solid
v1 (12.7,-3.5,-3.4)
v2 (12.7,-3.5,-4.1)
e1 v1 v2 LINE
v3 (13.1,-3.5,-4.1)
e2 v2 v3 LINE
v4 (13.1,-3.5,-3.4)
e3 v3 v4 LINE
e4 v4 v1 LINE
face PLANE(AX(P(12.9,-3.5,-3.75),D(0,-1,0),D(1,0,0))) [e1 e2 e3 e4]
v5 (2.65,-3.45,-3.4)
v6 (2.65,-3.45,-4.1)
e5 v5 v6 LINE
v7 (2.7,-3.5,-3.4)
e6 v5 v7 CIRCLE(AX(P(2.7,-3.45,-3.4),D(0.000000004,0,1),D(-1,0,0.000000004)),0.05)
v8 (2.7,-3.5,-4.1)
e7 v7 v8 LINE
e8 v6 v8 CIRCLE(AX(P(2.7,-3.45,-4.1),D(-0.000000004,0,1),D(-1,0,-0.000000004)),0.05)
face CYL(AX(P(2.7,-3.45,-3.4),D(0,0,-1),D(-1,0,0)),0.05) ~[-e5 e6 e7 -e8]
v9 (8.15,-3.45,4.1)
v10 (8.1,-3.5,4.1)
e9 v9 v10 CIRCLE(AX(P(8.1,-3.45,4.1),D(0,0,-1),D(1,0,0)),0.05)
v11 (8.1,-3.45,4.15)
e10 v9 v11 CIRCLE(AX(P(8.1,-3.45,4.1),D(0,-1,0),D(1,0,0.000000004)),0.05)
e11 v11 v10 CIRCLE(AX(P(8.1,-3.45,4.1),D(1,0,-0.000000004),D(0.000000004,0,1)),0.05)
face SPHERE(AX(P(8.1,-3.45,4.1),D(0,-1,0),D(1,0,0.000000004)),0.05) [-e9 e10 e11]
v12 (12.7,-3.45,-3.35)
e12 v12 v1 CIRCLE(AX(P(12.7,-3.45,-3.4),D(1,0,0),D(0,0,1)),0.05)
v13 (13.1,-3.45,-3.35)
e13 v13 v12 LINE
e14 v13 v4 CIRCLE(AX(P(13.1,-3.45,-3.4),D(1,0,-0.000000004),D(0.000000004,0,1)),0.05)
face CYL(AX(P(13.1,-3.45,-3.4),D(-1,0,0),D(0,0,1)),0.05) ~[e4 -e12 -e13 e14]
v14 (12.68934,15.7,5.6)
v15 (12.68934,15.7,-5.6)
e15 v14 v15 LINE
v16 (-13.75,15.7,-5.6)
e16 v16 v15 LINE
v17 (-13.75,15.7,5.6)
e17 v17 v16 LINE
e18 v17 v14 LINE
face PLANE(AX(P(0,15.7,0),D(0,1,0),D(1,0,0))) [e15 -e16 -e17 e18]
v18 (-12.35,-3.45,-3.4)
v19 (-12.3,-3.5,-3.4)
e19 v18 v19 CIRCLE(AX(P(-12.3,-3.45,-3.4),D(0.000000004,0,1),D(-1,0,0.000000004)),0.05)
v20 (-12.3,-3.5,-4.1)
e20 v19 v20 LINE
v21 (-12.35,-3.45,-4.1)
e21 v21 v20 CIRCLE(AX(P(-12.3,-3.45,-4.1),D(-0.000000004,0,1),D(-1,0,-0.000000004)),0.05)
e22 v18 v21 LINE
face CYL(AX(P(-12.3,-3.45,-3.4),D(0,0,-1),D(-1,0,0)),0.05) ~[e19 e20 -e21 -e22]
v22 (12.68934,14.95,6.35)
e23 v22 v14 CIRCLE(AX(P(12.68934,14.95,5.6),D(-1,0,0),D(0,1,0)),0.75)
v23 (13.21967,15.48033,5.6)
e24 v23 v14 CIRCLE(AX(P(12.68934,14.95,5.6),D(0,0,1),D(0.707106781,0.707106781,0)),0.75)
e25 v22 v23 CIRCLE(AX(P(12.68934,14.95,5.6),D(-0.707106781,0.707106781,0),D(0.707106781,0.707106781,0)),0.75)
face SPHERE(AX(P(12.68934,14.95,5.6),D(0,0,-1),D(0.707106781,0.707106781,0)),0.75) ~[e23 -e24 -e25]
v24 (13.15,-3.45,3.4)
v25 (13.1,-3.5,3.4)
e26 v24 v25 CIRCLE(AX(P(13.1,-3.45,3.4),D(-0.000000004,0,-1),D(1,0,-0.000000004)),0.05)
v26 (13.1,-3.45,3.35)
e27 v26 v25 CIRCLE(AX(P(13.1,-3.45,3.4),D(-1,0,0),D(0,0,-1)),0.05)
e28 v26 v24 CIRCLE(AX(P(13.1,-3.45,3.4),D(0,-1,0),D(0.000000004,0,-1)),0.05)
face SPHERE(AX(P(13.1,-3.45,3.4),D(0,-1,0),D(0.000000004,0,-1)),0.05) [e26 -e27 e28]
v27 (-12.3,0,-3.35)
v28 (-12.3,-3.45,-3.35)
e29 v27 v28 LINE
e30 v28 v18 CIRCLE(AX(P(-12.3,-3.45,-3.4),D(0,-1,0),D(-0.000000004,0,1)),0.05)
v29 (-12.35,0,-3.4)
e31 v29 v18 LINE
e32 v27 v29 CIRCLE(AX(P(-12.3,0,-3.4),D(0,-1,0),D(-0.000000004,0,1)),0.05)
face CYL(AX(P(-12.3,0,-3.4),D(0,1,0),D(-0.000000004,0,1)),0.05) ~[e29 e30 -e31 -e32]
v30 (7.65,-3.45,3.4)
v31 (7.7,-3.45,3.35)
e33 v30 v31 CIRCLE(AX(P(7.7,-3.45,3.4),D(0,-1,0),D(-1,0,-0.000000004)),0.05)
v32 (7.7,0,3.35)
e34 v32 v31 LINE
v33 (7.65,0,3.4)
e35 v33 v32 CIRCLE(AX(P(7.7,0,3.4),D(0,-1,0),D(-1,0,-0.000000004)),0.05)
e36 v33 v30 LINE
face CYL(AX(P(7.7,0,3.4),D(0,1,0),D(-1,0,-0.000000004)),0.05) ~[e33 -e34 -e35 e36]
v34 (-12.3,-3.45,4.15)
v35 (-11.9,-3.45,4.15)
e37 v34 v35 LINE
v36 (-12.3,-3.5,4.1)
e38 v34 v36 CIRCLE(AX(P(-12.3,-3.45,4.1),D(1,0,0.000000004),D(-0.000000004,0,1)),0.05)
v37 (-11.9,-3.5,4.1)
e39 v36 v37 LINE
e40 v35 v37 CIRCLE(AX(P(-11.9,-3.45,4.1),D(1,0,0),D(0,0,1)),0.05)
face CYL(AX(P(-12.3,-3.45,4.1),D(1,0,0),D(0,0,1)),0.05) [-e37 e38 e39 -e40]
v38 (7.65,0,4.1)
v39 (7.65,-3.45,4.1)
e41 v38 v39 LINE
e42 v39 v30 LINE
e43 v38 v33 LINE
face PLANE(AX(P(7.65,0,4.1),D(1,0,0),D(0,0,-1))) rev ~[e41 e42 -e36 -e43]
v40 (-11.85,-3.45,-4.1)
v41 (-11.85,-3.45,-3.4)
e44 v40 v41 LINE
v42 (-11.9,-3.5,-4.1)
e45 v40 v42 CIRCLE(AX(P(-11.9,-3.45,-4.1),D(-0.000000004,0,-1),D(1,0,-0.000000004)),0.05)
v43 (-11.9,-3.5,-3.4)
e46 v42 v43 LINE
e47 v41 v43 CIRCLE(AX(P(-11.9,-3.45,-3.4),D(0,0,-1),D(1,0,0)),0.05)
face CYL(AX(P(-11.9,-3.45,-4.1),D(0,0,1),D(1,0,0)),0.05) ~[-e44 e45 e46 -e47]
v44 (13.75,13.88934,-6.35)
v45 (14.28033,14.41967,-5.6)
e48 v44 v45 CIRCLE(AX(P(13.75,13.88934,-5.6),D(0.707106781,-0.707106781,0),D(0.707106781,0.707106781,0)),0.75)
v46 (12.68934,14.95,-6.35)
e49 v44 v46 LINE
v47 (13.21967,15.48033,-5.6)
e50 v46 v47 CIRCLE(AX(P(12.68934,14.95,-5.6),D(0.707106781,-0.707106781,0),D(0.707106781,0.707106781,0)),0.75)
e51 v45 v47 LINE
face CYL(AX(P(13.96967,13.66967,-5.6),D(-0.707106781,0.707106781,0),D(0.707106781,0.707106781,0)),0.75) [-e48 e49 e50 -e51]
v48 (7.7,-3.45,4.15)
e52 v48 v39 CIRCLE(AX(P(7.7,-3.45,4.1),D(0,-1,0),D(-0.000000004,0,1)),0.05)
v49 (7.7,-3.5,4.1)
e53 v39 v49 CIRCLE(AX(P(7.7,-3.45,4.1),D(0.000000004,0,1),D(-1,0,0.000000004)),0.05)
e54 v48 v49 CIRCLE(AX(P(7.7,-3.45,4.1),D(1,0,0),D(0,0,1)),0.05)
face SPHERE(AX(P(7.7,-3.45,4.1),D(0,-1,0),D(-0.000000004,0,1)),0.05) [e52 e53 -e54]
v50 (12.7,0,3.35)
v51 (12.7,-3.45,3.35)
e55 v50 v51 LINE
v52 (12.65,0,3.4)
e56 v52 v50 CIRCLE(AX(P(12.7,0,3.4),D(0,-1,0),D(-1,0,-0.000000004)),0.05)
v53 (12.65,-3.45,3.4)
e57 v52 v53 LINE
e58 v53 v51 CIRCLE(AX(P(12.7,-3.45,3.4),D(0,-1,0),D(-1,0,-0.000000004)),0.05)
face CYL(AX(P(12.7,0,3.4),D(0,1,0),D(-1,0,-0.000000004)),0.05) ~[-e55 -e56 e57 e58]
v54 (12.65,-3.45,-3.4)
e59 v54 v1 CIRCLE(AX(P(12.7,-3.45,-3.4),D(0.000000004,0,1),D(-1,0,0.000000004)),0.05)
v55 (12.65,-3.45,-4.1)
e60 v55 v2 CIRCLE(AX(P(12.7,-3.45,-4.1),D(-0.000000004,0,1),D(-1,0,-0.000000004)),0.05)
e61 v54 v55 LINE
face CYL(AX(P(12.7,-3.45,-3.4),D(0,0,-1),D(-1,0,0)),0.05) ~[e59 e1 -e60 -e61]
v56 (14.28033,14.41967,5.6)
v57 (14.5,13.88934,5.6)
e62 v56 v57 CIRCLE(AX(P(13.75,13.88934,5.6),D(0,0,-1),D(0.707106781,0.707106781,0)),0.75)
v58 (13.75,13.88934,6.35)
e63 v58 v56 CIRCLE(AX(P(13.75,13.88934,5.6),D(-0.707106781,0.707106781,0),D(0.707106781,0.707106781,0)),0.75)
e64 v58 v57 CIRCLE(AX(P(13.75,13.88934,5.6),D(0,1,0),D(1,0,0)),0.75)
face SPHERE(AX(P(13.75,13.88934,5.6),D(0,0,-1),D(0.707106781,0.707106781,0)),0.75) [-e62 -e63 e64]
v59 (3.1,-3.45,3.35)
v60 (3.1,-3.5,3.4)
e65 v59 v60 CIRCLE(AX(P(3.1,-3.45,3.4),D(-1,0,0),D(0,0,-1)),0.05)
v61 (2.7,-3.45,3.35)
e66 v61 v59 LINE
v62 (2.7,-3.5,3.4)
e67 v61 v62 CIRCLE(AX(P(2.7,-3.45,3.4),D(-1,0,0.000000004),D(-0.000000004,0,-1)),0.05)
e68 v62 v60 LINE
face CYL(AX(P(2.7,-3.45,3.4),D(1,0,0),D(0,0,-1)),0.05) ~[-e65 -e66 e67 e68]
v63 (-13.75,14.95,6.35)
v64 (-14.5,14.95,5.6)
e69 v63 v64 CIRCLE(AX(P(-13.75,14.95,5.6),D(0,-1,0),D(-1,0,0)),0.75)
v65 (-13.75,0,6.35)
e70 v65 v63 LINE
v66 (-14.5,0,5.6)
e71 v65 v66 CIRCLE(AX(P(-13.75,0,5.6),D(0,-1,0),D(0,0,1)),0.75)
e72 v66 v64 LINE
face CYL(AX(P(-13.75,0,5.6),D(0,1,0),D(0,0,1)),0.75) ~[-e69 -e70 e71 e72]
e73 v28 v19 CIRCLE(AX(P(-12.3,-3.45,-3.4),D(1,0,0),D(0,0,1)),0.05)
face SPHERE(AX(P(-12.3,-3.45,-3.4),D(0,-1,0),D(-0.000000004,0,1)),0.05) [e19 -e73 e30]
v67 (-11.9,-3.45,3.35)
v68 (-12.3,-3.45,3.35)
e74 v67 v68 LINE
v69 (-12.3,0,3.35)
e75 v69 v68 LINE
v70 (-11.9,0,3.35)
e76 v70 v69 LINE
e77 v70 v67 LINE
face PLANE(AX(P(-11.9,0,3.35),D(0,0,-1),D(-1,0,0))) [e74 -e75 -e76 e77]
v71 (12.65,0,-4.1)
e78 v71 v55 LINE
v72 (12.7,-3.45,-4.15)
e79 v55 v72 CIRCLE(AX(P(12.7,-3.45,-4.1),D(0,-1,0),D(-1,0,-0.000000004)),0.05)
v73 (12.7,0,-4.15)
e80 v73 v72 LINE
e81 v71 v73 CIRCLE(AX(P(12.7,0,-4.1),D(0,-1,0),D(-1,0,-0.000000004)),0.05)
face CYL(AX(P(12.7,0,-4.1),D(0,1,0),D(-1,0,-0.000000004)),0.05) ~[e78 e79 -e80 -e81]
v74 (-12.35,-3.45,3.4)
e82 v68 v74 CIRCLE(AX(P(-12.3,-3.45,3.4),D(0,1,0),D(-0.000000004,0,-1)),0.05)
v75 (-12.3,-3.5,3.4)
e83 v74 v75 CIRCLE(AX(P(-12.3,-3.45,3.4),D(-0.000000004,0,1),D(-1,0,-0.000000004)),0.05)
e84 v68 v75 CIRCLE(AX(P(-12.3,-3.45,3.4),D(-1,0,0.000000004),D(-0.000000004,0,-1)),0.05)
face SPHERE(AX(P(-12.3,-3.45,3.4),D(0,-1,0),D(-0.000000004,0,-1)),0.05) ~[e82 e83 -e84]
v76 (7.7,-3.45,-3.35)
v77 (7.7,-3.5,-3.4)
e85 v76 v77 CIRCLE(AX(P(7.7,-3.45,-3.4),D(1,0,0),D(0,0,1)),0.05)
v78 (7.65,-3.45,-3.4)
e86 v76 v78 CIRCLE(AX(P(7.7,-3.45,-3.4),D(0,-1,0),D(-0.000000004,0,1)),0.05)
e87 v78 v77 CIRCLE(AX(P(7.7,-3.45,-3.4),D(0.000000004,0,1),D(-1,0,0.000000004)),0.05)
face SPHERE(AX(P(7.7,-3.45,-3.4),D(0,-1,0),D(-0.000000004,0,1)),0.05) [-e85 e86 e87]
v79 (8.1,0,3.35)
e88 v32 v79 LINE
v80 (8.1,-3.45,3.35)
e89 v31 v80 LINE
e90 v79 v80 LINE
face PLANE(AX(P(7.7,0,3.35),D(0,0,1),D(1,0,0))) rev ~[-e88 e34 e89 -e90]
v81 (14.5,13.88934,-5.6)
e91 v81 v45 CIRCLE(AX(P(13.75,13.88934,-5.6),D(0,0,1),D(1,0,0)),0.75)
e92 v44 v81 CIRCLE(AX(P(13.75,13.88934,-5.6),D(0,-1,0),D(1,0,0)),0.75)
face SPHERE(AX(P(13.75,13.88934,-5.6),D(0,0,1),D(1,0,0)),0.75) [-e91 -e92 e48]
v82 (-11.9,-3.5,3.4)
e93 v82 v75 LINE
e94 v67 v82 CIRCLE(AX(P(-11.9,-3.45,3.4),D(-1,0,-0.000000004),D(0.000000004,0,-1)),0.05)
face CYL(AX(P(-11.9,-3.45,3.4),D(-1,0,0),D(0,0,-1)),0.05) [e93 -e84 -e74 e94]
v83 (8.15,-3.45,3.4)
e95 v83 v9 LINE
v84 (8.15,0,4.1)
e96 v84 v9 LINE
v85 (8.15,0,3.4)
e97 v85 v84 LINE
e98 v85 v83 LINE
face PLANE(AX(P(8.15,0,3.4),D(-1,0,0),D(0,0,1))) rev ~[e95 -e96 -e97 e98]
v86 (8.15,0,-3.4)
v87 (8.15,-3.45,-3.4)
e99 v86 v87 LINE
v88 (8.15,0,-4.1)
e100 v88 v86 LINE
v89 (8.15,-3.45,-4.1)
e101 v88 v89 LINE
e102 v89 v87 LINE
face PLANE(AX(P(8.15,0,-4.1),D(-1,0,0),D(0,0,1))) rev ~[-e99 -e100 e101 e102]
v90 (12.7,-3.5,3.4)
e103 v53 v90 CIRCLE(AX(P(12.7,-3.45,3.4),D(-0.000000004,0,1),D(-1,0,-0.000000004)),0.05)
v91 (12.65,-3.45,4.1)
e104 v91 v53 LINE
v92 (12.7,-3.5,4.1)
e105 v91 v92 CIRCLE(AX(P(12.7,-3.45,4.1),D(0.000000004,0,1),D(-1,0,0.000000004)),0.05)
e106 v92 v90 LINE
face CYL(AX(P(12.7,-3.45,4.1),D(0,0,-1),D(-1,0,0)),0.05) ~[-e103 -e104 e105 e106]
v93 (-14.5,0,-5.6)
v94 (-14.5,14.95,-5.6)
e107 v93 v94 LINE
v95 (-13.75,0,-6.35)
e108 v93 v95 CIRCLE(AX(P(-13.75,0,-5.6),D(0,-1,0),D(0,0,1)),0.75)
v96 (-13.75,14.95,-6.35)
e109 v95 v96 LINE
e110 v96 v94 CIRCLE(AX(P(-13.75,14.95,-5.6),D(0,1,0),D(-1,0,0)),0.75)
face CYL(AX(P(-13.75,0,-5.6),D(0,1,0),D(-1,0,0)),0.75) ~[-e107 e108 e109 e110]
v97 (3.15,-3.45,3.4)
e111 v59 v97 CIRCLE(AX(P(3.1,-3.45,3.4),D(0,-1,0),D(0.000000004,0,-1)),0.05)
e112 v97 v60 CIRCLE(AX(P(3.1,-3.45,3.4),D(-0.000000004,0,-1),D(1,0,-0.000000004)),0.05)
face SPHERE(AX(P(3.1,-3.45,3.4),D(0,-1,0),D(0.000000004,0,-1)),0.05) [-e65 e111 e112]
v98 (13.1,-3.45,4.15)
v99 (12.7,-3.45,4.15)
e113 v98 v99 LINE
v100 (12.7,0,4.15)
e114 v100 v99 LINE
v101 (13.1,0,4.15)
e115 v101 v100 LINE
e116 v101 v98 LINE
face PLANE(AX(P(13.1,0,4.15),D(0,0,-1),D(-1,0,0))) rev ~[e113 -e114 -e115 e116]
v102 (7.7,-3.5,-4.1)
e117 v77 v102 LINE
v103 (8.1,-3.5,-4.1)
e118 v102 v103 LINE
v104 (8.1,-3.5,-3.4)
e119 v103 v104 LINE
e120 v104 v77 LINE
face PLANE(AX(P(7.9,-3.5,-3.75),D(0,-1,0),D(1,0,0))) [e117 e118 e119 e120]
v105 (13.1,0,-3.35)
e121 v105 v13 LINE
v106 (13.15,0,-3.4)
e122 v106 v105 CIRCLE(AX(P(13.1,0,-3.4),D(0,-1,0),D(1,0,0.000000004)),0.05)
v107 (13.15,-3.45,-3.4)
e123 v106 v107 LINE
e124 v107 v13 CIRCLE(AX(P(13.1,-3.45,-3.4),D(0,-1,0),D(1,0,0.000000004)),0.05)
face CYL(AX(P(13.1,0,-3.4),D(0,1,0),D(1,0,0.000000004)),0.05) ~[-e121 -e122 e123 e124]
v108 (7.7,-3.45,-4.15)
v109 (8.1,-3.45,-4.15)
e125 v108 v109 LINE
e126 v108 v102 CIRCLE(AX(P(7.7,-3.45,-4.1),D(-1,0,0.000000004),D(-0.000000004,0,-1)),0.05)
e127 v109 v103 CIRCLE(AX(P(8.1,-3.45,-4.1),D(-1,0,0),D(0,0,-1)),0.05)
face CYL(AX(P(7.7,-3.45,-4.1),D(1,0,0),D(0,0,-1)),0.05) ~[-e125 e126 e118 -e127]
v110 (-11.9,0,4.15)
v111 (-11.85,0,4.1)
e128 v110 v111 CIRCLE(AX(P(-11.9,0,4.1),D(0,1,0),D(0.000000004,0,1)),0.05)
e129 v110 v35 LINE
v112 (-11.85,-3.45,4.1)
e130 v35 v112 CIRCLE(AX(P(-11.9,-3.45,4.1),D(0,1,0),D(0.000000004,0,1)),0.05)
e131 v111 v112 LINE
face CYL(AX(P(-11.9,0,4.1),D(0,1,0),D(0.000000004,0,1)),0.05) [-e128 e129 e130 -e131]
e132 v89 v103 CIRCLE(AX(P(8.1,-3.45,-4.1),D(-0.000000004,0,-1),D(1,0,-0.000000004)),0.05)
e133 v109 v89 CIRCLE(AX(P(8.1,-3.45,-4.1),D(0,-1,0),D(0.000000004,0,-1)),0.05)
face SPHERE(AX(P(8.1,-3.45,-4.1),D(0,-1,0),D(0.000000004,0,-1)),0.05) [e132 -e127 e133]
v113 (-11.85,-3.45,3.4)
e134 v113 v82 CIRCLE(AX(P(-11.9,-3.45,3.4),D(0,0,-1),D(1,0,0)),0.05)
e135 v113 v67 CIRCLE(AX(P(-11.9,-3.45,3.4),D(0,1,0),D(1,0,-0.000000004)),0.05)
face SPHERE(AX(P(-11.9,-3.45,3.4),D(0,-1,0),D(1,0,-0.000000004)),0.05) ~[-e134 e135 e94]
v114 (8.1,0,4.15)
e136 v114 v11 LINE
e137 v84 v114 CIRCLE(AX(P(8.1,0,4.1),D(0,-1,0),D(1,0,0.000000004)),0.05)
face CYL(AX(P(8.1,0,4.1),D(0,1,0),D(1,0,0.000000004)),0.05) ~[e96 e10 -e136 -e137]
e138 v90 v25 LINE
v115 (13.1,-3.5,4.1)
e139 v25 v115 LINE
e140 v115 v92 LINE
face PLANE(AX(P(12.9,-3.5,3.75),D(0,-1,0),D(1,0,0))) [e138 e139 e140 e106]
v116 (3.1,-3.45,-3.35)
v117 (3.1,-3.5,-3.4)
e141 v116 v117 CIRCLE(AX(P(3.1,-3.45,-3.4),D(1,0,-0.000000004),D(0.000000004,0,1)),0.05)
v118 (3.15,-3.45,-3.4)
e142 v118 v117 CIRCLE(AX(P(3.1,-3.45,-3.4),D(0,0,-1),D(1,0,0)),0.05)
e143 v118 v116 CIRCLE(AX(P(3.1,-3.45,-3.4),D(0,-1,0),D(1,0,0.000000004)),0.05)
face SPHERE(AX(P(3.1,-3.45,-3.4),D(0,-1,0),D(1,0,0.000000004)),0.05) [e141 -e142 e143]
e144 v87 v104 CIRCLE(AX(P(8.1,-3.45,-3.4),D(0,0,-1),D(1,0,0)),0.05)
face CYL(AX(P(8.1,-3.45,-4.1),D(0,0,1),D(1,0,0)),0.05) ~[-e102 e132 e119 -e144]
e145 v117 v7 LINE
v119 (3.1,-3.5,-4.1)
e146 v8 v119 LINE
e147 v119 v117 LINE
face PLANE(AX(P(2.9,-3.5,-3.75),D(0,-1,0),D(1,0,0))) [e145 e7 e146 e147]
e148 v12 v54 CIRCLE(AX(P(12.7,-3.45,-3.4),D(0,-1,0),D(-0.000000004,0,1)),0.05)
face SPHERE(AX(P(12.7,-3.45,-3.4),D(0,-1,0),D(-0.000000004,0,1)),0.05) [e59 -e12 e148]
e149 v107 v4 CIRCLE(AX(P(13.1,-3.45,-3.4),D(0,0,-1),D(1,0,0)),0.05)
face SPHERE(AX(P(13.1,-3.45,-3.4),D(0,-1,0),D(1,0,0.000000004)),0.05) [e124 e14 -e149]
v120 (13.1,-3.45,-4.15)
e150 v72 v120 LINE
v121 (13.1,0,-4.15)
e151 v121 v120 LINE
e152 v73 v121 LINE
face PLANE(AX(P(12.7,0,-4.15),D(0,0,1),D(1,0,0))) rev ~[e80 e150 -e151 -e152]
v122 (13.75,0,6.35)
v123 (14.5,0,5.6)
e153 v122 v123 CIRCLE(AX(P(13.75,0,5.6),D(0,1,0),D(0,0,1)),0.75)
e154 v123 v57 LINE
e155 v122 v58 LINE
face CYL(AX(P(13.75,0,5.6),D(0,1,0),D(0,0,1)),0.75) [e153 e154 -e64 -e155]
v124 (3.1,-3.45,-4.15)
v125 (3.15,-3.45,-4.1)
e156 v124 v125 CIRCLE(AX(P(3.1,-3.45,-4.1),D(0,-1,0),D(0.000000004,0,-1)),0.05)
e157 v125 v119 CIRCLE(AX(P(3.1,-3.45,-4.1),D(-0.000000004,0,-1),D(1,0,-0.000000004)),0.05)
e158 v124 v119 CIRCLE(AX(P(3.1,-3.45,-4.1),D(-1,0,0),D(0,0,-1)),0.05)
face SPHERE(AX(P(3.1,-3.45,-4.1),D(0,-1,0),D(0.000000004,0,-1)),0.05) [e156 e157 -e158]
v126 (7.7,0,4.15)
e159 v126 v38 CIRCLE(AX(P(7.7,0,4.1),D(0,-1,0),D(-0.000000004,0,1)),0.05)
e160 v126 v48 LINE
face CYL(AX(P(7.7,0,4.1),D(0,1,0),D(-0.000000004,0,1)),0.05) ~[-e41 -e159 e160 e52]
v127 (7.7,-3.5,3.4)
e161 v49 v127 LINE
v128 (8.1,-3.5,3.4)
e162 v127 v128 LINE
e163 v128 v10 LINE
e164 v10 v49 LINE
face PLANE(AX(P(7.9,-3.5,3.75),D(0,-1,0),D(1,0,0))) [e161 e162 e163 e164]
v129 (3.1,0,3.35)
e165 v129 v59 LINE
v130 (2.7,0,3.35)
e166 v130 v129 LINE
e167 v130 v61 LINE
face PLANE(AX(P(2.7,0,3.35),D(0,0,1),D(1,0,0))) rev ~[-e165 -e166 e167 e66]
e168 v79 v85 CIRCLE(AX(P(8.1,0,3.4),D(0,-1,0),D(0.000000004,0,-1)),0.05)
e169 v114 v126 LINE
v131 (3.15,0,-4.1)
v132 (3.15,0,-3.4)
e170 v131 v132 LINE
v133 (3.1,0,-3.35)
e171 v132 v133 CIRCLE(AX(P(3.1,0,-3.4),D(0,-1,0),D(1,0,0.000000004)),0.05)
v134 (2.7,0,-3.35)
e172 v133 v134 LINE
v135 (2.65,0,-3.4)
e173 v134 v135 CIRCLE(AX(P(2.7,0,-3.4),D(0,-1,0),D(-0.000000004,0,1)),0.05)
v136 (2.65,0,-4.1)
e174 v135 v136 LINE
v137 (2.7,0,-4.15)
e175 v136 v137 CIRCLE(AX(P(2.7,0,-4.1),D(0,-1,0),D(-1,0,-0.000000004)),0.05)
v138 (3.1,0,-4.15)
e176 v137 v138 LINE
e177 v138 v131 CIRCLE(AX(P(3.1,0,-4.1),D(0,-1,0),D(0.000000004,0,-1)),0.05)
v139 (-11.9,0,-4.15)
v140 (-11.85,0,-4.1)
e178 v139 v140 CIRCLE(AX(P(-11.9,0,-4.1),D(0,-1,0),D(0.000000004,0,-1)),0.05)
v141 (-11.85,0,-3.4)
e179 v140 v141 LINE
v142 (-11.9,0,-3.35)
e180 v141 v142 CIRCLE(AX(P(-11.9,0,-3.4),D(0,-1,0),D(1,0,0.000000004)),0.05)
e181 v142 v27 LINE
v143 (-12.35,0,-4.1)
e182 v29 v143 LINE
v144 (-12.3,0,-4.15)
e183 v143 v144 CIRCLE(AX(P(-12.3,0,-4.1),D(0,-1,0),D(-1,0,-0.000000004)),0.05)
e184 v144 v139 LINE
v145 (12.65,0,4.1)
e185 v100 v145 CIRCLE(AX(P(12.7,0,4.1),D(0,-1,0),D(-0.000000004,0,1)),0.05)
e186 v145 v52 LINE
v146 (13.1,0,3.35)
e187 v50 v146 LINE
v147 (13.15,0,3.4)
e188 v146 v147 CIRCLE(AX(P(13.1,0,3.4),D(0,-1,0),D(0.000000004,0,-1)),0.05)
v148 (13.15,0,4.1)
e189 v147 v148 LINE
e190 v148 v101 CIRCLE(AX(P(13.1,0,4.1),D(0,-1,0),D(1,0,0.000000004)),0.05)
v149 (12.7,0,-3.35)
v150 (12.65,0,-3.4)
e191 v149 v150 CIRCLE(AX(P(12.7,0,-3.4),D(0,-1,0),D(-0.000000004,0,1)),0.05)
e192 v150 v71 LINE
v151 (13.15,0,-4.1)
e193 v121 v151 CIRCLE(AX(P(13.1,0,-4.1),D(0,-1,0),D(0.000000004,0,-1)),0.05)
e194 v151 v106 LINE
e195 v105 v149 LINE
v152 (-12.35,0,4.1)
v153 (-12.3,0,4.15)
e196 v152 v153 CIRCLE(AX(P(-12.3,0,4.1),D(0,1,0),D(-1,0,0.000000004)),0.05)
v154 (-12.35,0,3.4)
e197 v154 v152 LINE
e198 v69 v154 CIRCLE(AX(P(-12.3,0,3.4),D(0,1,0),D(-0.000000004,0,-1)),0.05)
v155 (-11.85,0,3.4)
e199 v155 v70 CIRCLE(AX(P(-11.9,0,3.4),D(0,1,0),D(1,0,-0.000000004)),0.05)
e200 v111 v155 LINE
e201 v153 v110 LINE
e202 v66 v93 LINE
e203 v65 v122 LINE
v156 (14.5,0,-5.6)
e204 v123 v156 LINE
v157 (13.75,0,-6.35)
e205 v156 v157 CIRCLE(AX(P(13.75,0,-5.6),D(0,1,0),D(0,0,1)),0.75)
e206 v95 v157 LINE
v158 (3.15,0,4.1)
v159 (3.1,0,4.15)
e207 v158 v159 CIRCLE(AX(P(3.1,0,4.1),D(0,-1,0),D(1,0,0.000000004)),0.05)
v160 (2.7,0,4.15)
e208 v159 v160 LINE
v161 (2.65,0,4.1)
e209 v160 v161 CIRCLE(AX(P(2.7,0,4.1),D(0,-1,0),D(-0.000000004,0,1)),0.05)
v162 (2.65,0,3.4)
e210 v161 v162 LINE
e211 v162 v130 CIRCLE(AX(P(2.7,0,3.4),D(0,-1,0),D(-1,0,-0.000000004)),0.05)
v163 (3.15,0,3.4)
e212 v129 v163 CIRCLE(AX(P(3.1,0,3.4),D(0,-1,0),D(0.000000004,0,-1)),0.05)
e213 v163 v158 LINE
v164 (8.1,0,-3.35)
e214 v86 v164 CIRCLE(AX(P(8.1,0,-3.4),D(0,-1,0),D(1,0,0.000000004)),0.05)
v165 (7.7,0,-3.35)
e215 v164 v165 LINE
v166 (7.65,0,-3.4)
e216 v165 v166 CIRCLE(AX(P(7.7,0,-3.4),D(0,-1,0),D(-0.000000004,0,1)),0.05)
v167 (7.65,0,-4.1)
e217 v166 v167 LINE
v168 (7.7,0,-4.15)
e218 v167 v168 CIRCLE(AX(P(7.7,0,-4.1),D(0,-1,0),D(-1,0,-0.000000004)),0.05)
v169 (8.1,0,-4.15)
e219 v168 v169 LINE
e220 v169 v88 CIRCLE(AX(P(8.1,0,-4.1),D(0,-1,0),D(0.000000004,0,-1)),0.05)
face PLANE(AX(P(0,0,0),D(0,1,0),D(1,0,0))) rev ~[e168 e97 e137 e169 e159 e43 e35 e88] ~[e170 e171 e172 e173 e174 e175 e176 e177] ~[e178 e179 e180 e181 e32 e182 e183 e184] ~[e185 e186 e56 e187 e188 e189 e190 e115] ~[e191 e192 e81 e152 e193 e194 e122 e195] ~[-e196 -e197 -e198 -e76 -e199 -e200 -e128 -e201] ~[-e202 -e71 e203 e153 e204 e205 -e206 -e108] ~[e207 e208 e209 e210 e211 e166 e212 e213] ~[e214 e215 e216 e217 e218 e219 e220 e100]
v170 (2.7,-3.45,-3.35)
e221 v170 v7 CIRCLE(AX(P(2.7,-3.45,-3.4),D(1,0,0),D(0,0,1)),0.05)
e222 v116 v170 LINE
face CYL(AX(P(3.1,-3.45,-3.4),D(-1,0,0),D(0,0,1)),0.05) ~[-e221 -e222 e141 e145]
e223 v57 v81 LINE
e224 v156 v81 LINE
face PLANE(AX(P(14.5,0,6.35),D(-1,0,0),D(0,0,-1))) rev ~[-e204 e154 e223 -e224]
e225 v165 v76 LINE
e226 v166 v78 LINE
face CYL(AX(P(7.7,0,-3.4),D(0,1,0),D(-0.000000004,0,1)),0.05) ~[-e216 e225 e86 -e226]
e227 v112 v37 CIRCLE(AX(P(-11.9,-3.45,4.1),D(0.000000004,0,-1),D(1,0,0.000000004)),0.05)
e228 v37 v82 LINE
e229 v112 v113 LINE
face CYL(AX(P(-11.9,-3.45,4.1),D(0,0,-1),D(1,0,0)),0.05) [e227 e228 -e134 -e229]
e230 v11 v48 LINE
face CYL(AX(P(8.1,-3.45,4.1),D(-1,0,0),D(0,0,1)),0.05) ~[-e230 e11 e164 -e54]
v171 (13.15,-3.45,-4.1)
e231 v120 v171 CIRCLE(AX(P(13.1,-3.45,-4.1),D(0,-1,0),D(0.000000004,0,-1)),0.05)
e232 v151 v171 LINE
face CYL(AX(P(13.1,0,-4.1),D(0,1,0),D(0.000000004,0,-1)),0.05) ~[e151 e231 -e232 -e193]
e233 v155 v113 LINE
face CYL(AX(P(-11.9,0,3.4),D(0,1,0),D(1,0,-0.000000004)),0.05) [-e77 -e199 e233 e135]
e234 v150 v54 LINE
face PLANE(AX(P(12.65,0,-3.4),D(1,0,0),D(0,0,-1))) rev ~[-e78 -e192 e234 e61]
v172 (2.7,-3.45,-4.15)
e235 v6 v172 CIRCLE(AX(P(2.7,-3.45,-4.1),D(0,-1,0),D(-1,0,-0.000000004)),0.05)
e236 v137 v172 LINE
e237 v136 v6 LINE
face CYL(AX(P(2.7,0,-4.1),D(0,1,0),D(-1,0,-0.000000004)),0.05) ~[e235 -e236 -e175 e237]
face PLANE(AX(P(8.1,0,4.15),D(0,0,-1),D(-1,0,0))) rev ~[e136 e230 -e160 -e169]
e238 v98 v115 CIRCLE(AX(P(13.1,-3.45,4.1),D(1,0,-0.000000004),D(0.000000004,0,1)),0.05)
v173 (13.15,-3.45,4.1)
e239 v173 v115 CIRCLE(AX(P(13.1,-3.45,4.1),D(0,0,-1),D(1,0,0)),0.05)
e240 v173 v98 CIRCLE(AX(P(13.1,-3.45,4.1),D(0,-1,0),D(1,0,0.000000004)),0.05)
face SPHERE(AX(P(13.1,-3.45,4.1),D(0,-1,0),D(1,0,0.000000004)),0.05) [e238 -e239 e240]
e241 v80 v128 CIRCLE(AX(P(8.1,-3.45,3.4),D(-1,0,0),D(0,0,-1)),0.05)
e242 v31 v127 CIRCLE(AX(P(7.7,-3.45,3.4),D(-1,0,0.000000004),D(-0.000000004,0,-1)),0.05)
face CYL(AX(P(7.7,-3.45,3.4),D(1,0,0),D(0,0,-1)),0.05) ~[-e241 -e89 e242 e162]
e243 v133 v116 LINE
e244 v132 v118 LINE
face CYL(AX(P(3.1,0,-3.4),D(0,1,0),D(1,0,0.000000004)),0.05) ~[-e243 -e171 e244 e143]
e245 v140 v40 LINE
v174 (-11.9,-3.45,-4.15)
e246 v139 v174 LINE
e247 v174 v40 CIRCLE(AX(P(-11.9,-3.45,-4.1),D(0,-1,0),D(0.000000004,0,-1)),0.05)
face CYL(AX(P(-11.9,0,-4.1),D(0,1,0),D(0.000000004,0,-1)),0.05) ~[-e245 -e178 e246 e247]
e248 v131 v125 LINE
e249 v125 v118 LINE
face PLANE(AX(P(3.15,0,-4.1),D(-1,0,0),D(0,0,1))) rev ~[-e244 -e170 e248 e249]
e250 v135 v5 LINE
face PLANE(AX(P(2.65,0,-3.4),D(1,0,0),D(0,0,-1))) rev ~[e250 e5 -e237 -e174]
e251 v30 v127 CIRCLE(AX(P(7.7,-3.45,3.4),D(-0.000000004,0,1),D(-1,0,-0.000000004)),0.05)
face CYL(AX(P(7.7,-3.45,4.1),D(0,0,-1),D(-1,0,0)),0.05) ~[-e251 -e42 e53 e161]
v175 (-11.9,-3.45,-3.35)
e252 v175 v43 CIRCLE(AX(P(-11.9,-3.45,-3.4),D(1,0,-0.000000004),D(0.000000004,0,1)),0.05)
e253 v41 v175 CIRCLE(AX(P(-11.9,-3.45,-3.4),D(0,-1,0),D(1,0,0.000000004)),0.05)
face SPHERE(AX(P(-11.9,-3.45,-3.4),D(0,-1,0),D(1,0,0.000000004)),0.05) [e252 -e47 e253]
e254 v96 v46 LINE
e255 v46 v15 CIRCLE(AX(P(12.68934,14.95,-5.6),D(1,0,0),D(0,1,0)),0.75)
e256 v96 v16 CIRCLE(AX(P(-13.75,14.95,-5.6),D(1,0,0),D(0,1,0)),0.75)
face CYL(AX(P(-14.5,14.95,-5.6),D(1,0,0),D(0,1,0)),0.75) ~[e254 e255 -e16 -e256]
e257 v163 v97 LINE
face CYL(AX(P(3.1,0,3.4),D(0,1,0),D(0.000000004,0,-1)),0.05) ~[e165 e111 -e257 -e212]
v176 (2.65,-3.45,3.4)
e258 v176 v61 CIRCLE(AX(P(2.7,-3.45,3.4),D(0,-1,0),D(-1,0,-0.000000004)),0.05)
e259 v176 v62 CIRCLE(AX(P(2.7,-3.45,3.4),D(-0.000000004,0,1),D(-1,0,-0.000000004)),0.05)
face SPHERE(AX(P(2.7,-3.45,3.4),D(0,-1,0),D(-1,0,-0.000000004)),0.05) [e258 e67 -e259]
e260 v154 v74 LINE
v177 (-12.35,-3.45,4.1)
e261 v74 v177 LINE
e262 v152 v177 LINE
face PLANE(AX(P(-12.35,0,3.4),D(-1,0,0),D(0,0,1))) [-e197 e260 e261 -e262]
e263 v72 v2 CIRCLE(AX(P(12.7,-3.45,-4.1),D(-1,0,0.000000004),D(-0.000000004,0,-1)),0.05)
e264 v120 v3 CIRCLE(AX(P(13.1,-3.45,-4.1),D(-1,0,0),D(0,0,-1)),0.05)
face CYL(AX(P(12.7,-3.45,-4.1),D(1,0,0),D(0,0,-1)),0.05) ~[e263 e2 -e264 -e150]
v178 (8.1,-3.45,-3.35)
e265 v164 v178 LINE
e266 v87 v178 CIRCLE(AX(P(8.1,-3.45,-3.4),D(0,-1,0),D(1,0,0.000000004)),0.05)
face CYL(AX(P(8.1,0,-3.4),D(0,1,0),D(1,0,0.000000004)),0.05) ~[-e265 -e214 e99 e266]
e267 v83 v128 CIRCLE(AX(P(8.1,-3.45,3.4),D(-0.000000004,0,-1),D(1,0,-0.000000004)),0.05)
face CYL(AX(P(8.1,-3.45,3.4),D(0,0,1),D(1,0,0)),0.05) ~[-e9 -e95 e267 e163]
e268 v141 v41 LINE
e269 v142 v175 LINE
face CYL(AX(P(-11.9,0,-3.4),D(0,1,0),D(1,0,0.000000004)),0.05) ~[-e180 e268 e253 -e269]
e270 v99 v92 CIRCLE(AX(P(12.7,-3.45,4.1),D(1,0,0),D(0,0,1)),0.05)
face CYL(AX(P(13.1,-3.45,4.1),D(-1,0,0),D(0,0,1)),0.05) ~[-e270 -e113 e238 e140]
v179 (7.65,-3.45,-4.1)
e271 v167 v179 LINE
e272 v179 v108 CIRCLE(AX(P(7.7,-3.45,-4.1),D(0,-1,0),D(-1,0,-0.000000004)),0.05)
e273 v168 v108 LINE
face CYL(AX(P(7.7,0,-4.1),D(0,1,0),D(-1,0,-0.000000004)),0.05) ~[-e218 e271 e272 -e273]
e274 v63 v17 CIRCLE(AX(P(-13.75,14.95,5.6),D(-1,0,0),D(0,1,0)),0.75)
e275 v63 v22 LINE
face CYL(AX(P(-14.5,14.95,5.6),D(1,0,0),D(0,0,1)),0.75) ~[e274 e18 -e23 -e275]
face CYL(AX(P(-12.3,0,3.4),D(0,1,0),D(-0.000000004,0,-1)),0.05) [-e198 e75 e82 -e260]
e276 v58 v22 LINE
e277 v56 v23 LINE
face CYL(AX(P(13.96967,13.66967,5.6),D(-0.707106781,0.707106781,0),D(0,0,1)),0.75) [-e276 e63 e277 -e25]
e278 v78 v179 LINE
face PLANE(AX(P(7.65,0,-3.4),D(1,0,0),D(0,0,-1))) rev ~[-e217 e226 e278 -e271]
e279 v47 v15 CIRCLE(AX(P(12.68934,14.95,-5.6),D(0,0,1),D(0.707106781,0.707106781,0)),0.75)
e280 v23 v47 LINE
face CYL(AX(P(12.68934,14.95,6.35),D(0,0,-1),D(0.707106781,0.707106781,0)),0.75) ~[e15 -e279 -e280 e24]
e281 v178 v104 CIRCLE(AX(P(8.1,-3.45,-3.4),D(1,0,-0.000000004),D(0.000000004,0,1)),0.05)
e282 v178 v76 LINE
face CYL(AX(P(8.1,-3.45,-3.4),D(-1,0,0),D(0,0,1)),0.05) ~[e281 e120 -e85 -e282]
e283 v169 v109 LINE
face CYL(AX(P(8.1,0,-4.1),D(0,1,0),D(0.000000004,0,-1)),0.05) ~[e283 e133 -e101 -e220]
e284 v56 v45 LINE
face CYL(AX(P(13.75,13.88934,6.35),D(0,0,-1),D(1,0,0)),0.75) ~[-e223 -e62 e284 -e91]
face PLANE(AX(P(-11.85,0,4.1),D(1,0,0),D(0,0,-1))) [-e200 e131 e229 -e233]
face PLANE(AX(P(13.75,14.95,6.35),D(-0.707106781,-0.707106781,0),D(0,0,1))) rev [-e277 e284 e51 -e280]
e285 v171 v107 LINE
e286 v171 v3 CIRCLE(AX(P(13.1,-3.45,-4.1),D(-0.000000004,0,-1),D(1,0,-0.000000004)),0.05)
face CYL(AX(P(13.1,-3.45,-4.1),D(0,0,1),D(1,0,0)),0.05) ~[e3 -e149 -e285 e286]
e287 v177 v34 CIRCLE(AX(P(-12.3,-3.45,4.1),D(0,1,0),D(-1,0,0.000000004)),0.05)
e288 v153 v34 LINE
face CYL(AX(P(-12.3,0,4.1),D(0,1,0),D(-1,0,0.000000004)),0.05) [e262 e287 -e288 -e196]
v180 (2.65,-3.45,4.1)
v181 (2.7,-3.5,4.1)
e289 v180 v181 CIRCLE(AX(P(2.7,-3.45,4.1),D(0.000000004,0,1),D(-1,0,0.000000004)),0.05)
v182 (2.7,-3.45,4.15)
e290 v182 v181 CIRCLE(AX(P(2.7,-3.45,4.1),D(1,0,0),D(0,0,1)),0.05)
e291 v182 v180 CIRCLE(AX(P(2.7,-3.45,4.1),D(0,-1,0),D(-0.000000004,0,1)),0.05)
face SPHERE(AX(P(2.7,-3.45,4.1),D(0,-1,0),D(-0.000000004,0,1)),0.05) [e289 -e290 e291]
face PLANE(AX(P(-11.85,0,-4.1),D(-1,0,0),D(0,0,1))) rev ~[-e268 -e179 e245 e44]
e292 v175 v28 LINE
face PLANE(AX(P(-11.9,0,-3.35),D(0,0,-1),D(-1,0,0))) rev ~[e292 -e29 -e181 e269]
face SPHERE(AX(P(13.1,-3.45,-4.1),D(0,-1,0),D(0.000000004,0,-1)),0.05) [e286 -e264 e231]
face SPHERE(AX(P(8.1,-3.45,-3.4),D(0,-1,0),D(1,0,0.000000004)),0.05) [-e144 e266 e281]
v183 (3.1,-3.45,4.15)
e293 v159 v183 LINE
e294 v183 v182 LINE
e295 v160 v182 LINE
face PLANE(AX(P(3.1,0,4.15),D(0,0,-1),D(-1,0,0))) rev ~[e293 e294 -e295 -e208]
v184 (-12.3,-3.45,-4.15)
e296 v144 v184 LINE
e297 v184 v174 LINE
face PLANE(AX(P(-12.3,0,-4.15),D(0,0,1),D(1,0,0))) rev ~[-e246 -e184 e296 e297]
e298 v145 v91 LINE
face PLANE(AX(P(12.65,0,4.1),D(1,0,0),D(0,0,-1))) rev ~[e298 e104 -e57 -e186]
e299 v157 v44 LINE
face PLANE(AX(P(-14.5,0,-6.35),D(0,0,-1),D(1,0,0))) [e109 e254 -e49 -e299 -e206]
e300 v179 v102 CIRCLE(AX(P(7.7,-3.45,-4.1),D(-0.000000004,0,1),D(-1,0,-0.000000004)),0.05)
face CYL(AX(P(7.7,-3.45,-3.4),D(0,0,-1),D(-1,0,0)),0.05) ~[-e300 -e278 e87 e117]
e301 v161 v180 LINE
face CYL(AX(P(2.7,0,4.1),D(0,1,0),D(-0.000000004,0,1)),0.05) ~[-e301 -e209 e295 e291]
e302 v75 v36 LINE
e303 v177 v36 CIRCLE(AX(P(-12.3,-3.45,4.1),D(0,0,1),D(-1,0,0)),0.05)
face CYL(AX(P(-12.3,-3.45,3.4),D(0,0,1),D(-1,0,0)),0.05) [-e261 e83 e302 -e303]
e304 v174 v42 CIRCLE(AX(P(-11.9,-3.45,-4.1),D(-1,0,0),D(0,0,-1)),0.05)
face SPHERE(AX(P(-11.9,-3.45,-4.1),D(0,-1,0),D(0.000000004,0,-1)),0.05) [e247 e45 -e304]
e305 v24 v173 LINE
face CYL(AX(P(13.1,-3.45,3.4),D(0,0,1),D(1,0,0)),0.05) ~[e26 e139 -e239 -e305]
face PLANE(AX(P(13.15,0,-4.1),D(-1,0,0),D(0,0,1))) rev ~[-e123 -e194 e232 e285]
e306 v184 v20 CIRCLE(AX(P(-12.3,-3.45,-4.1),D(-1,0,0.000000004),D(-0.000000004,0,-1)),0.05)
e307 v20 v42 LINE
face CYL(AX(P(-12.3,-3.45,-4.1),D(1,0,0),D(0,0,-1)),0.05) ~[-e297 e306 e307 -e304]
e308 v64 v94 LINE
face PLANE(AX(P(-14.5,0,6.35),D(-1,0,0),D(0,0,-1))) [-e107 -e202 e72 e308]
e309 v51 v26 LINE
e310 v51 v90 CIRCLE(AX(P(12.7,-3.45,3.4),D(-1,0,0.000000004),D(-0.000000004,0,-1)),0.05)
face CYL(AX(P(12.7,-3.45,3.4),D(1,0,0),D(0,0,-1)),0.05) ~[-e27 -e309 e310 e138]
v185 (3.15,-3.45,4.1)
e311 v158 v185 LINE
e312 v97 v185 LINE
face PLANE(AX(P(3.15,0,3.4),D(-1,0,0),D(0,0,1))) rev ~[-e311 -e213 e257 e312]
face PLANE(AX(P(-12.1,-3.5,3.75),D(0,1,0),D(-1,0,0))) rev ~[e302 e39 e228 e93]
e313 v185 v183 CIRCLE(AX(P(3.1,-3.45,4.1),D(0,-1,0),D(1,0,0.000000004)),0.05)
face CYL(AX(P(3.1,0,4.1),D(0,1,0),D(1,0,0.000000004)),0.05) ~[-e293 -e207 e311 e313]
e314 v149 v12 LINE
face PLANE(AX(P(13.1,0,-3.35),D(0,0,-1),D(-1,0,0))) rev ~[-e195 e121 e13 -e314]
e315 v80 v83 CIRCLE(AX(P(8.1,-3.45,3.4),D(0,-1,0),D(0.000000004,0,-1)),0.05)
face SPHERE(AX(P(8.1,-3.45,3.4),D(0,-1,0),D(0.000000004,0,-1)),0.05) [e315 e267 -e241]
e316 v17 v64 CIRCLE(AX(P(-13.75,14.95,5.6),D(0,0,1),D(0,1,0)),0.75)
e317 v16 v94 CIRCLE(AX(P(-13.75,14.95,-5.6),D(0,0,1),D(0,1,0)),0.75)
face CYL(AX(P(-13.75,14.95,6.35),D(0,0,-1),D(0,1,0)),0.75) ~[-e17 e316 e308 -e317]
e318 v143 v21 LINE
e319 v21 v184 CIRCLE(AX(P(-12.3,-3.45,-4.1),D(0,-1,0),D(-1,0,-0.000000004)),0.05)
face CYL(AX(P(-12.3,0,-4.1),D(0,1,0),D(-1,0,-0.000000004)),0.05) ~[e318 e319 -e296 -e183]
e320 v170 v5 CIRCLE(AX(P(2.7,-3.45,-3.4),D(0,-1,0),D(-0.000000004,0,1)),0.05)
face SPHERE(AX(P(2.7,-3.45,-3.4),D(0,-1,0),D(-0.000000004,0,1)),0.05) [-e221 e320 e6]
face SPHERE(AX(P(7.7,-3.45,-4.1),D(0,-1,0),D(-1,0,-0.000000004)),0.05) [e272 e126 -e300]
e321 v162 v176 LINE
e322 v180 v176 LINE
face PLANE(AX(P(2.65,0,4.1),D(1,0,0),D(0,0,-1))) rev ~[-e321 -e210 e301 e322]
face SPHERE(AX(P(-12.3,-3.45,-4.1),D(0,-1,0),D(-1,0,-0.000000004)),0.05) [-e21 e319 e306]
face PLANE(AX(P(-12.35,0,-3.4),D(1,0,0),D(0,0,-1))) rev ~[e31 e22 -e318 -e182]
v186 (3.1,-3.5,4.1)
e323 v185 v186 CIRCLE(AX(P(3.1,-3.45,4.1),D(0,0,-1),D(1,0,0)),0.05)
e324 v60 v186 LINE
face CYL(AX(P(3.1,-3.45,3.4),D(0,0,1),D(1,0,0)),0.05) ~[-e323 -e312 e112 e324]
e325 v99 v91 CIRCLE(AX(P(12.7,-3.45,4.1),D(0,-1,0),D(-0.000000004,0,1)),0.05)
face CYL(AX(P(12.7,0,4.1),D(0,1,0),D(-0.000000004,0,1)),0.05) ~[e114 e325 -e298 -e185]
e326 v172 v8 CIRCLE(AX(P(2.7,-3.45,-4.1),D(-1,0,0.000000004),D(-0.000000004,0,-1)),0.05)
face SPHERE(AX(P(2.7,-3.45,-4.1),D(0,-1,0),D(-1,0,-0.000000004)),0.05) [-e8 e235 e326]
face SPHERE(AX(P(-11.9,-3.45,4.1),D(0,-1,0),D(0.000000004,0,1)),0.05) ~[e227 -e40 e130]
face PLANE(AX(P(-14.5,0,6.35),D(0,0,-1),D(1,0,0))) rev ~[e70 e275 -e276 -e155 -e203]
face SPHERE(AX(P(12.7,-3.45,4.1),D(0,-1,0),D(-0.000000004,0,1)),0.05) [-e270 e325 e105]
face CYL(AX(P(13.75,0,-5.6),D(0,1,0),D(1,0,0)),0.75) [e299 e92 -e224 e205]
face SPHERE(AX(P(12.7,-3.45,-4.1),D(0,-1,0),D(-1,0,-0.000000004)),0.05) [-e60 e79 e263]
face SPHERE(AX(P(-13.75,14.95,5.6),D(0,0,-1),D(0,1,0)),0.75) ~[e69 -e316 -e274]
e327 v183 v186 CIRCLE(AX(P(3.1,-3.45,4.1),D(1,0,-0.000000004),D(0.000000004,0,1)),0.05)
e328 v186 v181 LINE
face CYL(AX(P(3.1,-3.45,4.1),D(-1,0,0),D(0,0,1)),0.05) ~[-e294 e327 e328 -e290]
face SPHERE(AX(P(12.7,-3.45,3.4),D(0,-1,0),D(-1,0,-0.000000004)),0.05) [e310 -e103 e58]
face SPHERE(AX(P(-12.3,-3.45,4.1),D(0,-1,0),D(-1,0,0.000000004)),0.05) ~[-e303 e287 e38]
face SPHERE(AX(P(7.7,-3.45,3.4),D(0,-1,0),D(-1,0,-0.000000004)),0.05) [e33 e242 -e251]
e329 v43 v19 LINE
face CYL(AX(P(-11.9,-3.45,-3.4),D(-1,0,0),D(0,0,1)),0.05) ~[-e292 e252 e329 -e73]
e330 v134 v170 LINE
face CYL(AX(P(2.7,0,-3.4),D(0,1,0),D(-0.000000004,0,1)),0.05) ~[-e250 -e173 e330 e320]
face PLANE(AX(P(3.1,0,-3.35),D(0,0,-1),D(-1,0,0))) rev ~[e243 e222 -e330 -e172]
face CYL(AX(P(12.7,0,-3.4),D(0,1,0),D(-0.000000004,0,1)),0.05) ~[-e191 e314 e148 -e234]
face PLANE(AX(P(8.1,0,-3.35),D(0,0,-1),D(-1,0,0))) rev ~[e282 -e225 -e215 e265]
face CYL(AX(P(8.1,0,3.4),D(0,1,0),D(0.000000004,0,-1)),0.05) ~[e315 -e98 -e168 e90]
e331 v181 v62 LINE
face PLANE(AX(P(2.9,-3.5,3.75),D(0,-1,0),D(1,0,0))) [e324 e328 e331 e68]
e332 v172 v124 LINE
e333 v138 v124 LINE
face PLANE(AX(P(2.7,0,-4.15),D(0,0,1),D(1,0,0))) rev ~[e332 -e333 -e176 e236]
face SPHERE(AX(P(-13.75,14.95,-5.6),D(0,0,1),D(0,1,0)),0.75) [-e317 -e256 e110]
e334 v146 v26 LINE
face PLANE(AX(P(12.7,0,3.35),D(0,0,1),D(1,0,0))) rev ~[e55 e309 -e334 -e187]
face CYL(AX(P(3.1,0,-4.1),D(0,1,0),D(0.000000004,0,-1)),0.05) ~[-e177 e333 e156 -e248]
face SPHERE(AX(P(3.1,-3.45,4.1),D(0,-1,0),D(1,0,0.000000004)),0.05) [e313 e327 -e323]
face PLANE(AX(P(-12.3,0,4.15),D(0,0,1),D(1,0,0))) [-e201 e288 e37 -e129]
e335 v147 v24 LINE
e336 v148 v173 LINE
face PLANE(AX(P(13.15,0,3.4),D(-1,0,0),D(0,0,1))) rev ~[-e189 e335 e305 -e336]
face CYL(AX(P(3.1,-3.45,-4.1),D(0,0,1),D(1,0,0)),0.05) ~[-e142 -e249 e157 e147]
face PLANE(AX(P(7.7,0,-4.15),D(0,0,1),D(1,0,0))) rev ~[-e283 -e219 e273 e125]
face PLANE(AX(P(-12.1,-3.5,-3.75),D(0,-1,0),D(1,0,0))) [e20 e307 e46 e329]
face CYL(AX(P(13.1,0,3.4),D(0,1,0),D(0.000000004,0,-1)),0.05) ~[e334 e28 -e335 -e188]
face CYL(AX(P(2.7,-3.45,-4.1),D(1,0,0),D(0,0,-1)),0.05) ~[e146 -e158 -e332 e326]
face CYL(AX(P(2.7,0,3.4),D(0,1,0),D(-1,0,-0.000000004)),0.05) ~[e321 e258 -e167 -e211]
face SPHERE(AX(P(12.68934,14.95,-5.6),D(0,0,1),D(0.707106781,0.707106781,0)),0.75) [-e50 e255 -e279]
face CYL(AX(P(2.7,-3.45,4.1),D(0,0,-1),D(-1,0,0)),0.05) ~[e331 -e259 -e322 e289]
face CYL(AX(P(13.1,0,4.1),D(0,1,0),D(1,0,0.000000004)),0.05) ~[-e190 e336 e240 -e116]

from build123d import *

# Parameters (mm, degrees)
SKETCH_1_W      = 29
SKETCH_1_H      = 12.7
EXTRUDE_1_DEPTH = 15.7
EXTRUDE_2_DEPTH = 3.5
FILLET_1_R      = 0.05
CHAMFER_1_SIZE  = 1.5
FILLET_2_R      = 0.75


with BuildPart() as part:
    # Эскиз1 → Бобышка-Вытянуть1 (new body)
    with BuildSketch(Plane(origin=(0, 0, 0), x_dir=(1, 0, 0), z_dir=(0, 1, 0))):
        Rectangle(SKETCH_1_W, SKETCH_1_H)
    extrude(amount=EXTRUDE_1_DEPTH)

    # Эскиз2 → Бобышка-Вытянуть2 (add)
    with BuildSketch(Plane.XZ):
        with BuildLine():
            Line((-12.3, 4.15), (-11.9, 4.15))
            ThreePointArc((-11.9, 4.15), (-11.864644661, 4.135355339), (-11.85, 4.1))
            Line((-11.85, 4.1), (-11.85, 3.4))
            ThreePointArc((-11.85, 3.4), (-11.864644661, 3.364644661), (-11.9, 3.35))
            Line((-11.9, 3.35), (-12.3, 3.35))
            ThreePointArc((-12.3, 3.35), (-12.335355339, 3.364644661), (-12.35, 3.4))
            Line((-12.35, 3.4), (-12.35, 4.1))
            ThreePointArc((-12.35, 4.1), (-12.335355339, 4.135355339), (-12.3, 4.15))
        make_face()
        with BuildLine():
            Line((2.65, 4.1), (2.65, 3.4))
            ThreePointArc((2.65, 3.4), (2.664644661, 3.364644661), (2.7, 3.35))
            Line((2.7, 3.35), (3.1, 3.35))
            ThreePointArc((3.1, 3.35), (3.135355339, 3.364644661), (3.15, 3.4))
            Line((3.15, 3.4), (3.15, 4.1))
            ThreePointArc((3.15, 4.1), (3.135355339, 4.135355339), (3.1, 4.15))
            Line((3.1, 4.15), (2.7, 4.15))
            ThreePointArc((2.7, 4.15), (2.664644661, 4.135355339), (2.65, 4.1))
        make_face()
        with BuildLine():
            Line((7.65, 4.1), (7.65, 3.4))
            ThreePointArc((7.65, 3.4), (7.664644661, 3.364644661), (7.7, 3.35))
            Line((7.7, 3.35), (8.1, 3.35))
            ThreePointArc((8.1, 3.35), (8.135355339, 3.364644661), (8.15, 3.4))
            Line((8.15, 3.4), (8.15, 4.1))
            ThreePointArc((8.15, 4.1), (8.135355339, 4.135355339), (8.1, 4.15))
            Line((8.1, 4.15), (7.7, 4.15))
            ThreePointArc((7.7, 4.15), (7.664644661, 4.135355339), (7.65, 4.1))
        make_face()
        with BuildLine():
            Line((12.65, 4.1), (12.65, 3.4))
            ThreePointArc((12.65, 3.4), (12.664644661, 3.364644661), (12.7, 3.35))
            Line((12.7, 3.35), (13.1, 3.35))
            ThreePointArc((13.1, 3.35), (13.135355339, 3.364644661), (13.15, 3.4))
            Line((13.15, 3.4), (13.15, 4.1))
            ThreePointArc((13.15, 4.1), (13.135355339, 4.135355339), (13.1, 4.15))
            Line((13.1, 4.15), (12.7, 4.15))
            ThreePointArc((12.7, 4.15), (12.664644661, 4.135355339), (12.65, 4.1))
        make_face()
        with BuildLine():
            Line((2.65, -3.4), (2.65, -4.1))
            ThreePointArc((2.65, -4.1), (2.664644661, -4.135355339), (2.7, -4.15))
            Line((2.7, -4.15), (3.1, -4.15))
            ThreePointArc((3.1, -4.15), (3.135355339, -4.135355339), (3.15, -4.1))
            Line((3.15, -4.1), (3.15, -3.4))
            ThreePointArc((3.15, -3.4), (3.135355339, -3.364644661), (3.1, -3.35))
            Line((3.1, -3.35), (2.7, -3.35))
            ThreePointArc((2.7, -3.35), (2.664644661, -3.364644661), (2.65, -3.4))
        make_face()
        with BuildLine():
            Line((7.65, -3.4), (7.65, -4.1))
            ThreePointArc((7.65, -4.1), (7.664644661, -4.135355339), (7.7, -4.15))
            Line((7.7, -4.15), (8.1, -4.15))
            ThreePointArc((8.1, -4.15), (8.135355339, -4.135355339), (8.15, -4.1))
            Line((8.15, -4.1), (8.15, -3.4))
            ThreePointArc((8.15, -3.4), (8.135355339, -3.364644661), (8.1, -3.35))
            Line((8.1, -3.35), (7.7, -3.35))
            ThreePointArc((7.7, -3.35), (7.664644661, -3.364644661), (7.65, -3.4))
        make_face()
        with BuildLine():
            Line((12.65, -3.4), (12.65, -4.1))
            ThreePointArc((12.65, -4.1), (12.664644661, -4.135355339), (12.7, -4.15))
            Line((12.7, -4.15), (13.1, -4.15))
            ThreePointArc((13.1, -4.15), (13.135355339, -4.135355339), (13.15, -4.1))
            Line((13.15, -4.1), (13.15, -3.4))
            ThreePointArc((13.15, -3.4), (13.135355339, -3.364644661), (13.1, -3.35))
            Line((13.1, -3.35), (12.7, -3.35))
            ThreePointArc((12.7, -3.35), (12.664644661, -3.364644661), (12.65, -3.4))
        make_face()
        with BuildLine():
            Line((-12.35, -3.4), (-12.35, -4.1))
            ThreePointArc((-12.35, -4.1), (-12.335355339, -4.135355339), (-12.3, -4.15))
            Line((-12.3, -4.15), (-11.9, -4.15))
            ThreePointArc((-11.9, -4.15), (-11.864644661, -4.135355339), (-11.85, -4.1))
            Line((-11.85, -4.1), (-11.85, -3.4))
            ThreePointArc((-11.85, -3.4), (-11.864644661, -3.364644661), (-11.9, -3.35))
            Line((-11.9, -3.35), (-12.3, -3.35))
            ThreePointArc((-12.3, -3.35), (-12.335355339, -3.364644661), (-12.35, -3.4))
        make_face()
    extrude(amount=EXTRUDE_2_DEPTH)

    # Скругление1
    fillet_1_edges = [part.edges().sort_by_distance(p)[0] for p in [
        (2.664644661, -3.5, -4.135355339),
        (2.9, -3.5, -4.15),
        (3.135355339, -3.5, -4.135355339),
        (3.15, -3.5, -3.75),
        (3.135355339, -3.5, -3.364644661),
        (2.9, -3.5, -3.35),
        (2.664644661, -3.5, -3.364644661),
        (2.65, -3.5, -3.75),
        (7.664644661, -3.5, -4.135355339),
        (7.9, -3.5, -4.15),
        (8.135355339, -3.5, -4.135355339),
        (8.15, -3.5, -3.75),
        (8.135355339, -3.5, -3.364644661),
        (7.9, -3.5, -3.35),
        (7.664644661, -3.5, -3.364644661),
        (7.65, -3.5, -3.75),
        (12.664644661, -3.5, -4.135355339),
        (12.9, -3.5, -4.15),
        (13.135355339, -3.5, -4.135355339),
        (13.15, -3.5, -3.75),
        (13.135355339, -3.5, -3.364644661),
        (12.9, -3.5, -3.35),
        (12.664644661, -3.5, -3.364644661),
        (12.65, -3.5, -3.75),
        (-12.335355339, -3.5, -4.135355339),
        (-12.1, -3.5, -4.15),
        (-11.864644661, -3.5, -4.135355339),
        (-11.85, -3.5, -3.75),
        (-11.864644661, -3.5, -3.364644661),
        (-12.1, -3.5, -3.35),
        (-12.335355339, -3.5, -3.364644661),
        (-12.35, -3.5, -3.75),
        (-12.335355339, -3.5, 3.364644661),
        (-12.1, -3.5, 3.35),
        (-11.864644661, -3.5, 3.364644661),
        (-11.85, -3.5, 3.75),
        (-11.864644661, -3.5, 4.135355339),
        (-12.1, -3.5, 4.15),
        (-12.335355339, -3.5, 4.135355339),
        (-12.35, -3.5, 3.75),
        (2.664644661, -3.5, 3.364644661),
        (2.9, -3.5, 3.35),
        (3.135355339, -3.5, 3.364644661),
        (3.15, -3.5, 3.75),
        (3.135355339, -3.5, 4.135355339),
        (2.9, -3.5, 4.15),
        (2.664644661, -3.5, 4.135355339),
        (2.65, -3.5, 3.75),
        (7.664644661, -3.5, 3.364644661),
        (7.9, -3.5, 3.35),
        (8.135355339, -3.5, 3.364644661),
        (8.15, -3.5, 3.75),
        (8.135355339, -3.5, 4.135355339),
        (7.9, -3.5, 4.15),
        (7.664644661, -3.5, 4.135355339),
        (7.65, -3.5, 3.75),
        (12.664644661, -3.5, 3.364644661),
        (12.9, -3.5, 3.35),
        (13.135355339, -3.5, 3.364644661),
        (13.15, -3.5, 3.75),
        (13.135355339, -3.5, 4.135355339),
        (12.9, -3.5, 4.15),
        (12.664644661, -3.5, 4.135355339),
        (12.65, -3.5, 3.75),
    ]]
    fillet(fillet_1_edges, radius=FILLET_1_R)

    # Фаска1
    chamfer_1_edges = [part.edges().sort_by_distance(p)[0] for p in [
        (14.5, 15.7, 0),
    ]]
    chamfer(chamfer_1_edges, length=CHAMFER_1_SIZE)

    # Скругление2
    fillet_2_edges = [part.edges().sort_by_distance(p)[0] for p in [
        (-14.5, 15.7, 0),
        (-0.75, 15.7, 6.35),
        (-0.75, 15.7, -6.35),
        (13, 15.7, 0),
        (14.5, 7.1, -6.35),
        (13.75, 14.95, -6.35),
        (14.5, 7.1, 6.35),
        (14.5, 14.2, 0),
        (13.75, 14.95, 6.35),
        (-14.5, 7.85, 6.35),
        (-14.5, 7.85, -6.35),
    ]]
    fillet(fillet_2_edges, radius=FILLET_2_R)


solid = part.part
